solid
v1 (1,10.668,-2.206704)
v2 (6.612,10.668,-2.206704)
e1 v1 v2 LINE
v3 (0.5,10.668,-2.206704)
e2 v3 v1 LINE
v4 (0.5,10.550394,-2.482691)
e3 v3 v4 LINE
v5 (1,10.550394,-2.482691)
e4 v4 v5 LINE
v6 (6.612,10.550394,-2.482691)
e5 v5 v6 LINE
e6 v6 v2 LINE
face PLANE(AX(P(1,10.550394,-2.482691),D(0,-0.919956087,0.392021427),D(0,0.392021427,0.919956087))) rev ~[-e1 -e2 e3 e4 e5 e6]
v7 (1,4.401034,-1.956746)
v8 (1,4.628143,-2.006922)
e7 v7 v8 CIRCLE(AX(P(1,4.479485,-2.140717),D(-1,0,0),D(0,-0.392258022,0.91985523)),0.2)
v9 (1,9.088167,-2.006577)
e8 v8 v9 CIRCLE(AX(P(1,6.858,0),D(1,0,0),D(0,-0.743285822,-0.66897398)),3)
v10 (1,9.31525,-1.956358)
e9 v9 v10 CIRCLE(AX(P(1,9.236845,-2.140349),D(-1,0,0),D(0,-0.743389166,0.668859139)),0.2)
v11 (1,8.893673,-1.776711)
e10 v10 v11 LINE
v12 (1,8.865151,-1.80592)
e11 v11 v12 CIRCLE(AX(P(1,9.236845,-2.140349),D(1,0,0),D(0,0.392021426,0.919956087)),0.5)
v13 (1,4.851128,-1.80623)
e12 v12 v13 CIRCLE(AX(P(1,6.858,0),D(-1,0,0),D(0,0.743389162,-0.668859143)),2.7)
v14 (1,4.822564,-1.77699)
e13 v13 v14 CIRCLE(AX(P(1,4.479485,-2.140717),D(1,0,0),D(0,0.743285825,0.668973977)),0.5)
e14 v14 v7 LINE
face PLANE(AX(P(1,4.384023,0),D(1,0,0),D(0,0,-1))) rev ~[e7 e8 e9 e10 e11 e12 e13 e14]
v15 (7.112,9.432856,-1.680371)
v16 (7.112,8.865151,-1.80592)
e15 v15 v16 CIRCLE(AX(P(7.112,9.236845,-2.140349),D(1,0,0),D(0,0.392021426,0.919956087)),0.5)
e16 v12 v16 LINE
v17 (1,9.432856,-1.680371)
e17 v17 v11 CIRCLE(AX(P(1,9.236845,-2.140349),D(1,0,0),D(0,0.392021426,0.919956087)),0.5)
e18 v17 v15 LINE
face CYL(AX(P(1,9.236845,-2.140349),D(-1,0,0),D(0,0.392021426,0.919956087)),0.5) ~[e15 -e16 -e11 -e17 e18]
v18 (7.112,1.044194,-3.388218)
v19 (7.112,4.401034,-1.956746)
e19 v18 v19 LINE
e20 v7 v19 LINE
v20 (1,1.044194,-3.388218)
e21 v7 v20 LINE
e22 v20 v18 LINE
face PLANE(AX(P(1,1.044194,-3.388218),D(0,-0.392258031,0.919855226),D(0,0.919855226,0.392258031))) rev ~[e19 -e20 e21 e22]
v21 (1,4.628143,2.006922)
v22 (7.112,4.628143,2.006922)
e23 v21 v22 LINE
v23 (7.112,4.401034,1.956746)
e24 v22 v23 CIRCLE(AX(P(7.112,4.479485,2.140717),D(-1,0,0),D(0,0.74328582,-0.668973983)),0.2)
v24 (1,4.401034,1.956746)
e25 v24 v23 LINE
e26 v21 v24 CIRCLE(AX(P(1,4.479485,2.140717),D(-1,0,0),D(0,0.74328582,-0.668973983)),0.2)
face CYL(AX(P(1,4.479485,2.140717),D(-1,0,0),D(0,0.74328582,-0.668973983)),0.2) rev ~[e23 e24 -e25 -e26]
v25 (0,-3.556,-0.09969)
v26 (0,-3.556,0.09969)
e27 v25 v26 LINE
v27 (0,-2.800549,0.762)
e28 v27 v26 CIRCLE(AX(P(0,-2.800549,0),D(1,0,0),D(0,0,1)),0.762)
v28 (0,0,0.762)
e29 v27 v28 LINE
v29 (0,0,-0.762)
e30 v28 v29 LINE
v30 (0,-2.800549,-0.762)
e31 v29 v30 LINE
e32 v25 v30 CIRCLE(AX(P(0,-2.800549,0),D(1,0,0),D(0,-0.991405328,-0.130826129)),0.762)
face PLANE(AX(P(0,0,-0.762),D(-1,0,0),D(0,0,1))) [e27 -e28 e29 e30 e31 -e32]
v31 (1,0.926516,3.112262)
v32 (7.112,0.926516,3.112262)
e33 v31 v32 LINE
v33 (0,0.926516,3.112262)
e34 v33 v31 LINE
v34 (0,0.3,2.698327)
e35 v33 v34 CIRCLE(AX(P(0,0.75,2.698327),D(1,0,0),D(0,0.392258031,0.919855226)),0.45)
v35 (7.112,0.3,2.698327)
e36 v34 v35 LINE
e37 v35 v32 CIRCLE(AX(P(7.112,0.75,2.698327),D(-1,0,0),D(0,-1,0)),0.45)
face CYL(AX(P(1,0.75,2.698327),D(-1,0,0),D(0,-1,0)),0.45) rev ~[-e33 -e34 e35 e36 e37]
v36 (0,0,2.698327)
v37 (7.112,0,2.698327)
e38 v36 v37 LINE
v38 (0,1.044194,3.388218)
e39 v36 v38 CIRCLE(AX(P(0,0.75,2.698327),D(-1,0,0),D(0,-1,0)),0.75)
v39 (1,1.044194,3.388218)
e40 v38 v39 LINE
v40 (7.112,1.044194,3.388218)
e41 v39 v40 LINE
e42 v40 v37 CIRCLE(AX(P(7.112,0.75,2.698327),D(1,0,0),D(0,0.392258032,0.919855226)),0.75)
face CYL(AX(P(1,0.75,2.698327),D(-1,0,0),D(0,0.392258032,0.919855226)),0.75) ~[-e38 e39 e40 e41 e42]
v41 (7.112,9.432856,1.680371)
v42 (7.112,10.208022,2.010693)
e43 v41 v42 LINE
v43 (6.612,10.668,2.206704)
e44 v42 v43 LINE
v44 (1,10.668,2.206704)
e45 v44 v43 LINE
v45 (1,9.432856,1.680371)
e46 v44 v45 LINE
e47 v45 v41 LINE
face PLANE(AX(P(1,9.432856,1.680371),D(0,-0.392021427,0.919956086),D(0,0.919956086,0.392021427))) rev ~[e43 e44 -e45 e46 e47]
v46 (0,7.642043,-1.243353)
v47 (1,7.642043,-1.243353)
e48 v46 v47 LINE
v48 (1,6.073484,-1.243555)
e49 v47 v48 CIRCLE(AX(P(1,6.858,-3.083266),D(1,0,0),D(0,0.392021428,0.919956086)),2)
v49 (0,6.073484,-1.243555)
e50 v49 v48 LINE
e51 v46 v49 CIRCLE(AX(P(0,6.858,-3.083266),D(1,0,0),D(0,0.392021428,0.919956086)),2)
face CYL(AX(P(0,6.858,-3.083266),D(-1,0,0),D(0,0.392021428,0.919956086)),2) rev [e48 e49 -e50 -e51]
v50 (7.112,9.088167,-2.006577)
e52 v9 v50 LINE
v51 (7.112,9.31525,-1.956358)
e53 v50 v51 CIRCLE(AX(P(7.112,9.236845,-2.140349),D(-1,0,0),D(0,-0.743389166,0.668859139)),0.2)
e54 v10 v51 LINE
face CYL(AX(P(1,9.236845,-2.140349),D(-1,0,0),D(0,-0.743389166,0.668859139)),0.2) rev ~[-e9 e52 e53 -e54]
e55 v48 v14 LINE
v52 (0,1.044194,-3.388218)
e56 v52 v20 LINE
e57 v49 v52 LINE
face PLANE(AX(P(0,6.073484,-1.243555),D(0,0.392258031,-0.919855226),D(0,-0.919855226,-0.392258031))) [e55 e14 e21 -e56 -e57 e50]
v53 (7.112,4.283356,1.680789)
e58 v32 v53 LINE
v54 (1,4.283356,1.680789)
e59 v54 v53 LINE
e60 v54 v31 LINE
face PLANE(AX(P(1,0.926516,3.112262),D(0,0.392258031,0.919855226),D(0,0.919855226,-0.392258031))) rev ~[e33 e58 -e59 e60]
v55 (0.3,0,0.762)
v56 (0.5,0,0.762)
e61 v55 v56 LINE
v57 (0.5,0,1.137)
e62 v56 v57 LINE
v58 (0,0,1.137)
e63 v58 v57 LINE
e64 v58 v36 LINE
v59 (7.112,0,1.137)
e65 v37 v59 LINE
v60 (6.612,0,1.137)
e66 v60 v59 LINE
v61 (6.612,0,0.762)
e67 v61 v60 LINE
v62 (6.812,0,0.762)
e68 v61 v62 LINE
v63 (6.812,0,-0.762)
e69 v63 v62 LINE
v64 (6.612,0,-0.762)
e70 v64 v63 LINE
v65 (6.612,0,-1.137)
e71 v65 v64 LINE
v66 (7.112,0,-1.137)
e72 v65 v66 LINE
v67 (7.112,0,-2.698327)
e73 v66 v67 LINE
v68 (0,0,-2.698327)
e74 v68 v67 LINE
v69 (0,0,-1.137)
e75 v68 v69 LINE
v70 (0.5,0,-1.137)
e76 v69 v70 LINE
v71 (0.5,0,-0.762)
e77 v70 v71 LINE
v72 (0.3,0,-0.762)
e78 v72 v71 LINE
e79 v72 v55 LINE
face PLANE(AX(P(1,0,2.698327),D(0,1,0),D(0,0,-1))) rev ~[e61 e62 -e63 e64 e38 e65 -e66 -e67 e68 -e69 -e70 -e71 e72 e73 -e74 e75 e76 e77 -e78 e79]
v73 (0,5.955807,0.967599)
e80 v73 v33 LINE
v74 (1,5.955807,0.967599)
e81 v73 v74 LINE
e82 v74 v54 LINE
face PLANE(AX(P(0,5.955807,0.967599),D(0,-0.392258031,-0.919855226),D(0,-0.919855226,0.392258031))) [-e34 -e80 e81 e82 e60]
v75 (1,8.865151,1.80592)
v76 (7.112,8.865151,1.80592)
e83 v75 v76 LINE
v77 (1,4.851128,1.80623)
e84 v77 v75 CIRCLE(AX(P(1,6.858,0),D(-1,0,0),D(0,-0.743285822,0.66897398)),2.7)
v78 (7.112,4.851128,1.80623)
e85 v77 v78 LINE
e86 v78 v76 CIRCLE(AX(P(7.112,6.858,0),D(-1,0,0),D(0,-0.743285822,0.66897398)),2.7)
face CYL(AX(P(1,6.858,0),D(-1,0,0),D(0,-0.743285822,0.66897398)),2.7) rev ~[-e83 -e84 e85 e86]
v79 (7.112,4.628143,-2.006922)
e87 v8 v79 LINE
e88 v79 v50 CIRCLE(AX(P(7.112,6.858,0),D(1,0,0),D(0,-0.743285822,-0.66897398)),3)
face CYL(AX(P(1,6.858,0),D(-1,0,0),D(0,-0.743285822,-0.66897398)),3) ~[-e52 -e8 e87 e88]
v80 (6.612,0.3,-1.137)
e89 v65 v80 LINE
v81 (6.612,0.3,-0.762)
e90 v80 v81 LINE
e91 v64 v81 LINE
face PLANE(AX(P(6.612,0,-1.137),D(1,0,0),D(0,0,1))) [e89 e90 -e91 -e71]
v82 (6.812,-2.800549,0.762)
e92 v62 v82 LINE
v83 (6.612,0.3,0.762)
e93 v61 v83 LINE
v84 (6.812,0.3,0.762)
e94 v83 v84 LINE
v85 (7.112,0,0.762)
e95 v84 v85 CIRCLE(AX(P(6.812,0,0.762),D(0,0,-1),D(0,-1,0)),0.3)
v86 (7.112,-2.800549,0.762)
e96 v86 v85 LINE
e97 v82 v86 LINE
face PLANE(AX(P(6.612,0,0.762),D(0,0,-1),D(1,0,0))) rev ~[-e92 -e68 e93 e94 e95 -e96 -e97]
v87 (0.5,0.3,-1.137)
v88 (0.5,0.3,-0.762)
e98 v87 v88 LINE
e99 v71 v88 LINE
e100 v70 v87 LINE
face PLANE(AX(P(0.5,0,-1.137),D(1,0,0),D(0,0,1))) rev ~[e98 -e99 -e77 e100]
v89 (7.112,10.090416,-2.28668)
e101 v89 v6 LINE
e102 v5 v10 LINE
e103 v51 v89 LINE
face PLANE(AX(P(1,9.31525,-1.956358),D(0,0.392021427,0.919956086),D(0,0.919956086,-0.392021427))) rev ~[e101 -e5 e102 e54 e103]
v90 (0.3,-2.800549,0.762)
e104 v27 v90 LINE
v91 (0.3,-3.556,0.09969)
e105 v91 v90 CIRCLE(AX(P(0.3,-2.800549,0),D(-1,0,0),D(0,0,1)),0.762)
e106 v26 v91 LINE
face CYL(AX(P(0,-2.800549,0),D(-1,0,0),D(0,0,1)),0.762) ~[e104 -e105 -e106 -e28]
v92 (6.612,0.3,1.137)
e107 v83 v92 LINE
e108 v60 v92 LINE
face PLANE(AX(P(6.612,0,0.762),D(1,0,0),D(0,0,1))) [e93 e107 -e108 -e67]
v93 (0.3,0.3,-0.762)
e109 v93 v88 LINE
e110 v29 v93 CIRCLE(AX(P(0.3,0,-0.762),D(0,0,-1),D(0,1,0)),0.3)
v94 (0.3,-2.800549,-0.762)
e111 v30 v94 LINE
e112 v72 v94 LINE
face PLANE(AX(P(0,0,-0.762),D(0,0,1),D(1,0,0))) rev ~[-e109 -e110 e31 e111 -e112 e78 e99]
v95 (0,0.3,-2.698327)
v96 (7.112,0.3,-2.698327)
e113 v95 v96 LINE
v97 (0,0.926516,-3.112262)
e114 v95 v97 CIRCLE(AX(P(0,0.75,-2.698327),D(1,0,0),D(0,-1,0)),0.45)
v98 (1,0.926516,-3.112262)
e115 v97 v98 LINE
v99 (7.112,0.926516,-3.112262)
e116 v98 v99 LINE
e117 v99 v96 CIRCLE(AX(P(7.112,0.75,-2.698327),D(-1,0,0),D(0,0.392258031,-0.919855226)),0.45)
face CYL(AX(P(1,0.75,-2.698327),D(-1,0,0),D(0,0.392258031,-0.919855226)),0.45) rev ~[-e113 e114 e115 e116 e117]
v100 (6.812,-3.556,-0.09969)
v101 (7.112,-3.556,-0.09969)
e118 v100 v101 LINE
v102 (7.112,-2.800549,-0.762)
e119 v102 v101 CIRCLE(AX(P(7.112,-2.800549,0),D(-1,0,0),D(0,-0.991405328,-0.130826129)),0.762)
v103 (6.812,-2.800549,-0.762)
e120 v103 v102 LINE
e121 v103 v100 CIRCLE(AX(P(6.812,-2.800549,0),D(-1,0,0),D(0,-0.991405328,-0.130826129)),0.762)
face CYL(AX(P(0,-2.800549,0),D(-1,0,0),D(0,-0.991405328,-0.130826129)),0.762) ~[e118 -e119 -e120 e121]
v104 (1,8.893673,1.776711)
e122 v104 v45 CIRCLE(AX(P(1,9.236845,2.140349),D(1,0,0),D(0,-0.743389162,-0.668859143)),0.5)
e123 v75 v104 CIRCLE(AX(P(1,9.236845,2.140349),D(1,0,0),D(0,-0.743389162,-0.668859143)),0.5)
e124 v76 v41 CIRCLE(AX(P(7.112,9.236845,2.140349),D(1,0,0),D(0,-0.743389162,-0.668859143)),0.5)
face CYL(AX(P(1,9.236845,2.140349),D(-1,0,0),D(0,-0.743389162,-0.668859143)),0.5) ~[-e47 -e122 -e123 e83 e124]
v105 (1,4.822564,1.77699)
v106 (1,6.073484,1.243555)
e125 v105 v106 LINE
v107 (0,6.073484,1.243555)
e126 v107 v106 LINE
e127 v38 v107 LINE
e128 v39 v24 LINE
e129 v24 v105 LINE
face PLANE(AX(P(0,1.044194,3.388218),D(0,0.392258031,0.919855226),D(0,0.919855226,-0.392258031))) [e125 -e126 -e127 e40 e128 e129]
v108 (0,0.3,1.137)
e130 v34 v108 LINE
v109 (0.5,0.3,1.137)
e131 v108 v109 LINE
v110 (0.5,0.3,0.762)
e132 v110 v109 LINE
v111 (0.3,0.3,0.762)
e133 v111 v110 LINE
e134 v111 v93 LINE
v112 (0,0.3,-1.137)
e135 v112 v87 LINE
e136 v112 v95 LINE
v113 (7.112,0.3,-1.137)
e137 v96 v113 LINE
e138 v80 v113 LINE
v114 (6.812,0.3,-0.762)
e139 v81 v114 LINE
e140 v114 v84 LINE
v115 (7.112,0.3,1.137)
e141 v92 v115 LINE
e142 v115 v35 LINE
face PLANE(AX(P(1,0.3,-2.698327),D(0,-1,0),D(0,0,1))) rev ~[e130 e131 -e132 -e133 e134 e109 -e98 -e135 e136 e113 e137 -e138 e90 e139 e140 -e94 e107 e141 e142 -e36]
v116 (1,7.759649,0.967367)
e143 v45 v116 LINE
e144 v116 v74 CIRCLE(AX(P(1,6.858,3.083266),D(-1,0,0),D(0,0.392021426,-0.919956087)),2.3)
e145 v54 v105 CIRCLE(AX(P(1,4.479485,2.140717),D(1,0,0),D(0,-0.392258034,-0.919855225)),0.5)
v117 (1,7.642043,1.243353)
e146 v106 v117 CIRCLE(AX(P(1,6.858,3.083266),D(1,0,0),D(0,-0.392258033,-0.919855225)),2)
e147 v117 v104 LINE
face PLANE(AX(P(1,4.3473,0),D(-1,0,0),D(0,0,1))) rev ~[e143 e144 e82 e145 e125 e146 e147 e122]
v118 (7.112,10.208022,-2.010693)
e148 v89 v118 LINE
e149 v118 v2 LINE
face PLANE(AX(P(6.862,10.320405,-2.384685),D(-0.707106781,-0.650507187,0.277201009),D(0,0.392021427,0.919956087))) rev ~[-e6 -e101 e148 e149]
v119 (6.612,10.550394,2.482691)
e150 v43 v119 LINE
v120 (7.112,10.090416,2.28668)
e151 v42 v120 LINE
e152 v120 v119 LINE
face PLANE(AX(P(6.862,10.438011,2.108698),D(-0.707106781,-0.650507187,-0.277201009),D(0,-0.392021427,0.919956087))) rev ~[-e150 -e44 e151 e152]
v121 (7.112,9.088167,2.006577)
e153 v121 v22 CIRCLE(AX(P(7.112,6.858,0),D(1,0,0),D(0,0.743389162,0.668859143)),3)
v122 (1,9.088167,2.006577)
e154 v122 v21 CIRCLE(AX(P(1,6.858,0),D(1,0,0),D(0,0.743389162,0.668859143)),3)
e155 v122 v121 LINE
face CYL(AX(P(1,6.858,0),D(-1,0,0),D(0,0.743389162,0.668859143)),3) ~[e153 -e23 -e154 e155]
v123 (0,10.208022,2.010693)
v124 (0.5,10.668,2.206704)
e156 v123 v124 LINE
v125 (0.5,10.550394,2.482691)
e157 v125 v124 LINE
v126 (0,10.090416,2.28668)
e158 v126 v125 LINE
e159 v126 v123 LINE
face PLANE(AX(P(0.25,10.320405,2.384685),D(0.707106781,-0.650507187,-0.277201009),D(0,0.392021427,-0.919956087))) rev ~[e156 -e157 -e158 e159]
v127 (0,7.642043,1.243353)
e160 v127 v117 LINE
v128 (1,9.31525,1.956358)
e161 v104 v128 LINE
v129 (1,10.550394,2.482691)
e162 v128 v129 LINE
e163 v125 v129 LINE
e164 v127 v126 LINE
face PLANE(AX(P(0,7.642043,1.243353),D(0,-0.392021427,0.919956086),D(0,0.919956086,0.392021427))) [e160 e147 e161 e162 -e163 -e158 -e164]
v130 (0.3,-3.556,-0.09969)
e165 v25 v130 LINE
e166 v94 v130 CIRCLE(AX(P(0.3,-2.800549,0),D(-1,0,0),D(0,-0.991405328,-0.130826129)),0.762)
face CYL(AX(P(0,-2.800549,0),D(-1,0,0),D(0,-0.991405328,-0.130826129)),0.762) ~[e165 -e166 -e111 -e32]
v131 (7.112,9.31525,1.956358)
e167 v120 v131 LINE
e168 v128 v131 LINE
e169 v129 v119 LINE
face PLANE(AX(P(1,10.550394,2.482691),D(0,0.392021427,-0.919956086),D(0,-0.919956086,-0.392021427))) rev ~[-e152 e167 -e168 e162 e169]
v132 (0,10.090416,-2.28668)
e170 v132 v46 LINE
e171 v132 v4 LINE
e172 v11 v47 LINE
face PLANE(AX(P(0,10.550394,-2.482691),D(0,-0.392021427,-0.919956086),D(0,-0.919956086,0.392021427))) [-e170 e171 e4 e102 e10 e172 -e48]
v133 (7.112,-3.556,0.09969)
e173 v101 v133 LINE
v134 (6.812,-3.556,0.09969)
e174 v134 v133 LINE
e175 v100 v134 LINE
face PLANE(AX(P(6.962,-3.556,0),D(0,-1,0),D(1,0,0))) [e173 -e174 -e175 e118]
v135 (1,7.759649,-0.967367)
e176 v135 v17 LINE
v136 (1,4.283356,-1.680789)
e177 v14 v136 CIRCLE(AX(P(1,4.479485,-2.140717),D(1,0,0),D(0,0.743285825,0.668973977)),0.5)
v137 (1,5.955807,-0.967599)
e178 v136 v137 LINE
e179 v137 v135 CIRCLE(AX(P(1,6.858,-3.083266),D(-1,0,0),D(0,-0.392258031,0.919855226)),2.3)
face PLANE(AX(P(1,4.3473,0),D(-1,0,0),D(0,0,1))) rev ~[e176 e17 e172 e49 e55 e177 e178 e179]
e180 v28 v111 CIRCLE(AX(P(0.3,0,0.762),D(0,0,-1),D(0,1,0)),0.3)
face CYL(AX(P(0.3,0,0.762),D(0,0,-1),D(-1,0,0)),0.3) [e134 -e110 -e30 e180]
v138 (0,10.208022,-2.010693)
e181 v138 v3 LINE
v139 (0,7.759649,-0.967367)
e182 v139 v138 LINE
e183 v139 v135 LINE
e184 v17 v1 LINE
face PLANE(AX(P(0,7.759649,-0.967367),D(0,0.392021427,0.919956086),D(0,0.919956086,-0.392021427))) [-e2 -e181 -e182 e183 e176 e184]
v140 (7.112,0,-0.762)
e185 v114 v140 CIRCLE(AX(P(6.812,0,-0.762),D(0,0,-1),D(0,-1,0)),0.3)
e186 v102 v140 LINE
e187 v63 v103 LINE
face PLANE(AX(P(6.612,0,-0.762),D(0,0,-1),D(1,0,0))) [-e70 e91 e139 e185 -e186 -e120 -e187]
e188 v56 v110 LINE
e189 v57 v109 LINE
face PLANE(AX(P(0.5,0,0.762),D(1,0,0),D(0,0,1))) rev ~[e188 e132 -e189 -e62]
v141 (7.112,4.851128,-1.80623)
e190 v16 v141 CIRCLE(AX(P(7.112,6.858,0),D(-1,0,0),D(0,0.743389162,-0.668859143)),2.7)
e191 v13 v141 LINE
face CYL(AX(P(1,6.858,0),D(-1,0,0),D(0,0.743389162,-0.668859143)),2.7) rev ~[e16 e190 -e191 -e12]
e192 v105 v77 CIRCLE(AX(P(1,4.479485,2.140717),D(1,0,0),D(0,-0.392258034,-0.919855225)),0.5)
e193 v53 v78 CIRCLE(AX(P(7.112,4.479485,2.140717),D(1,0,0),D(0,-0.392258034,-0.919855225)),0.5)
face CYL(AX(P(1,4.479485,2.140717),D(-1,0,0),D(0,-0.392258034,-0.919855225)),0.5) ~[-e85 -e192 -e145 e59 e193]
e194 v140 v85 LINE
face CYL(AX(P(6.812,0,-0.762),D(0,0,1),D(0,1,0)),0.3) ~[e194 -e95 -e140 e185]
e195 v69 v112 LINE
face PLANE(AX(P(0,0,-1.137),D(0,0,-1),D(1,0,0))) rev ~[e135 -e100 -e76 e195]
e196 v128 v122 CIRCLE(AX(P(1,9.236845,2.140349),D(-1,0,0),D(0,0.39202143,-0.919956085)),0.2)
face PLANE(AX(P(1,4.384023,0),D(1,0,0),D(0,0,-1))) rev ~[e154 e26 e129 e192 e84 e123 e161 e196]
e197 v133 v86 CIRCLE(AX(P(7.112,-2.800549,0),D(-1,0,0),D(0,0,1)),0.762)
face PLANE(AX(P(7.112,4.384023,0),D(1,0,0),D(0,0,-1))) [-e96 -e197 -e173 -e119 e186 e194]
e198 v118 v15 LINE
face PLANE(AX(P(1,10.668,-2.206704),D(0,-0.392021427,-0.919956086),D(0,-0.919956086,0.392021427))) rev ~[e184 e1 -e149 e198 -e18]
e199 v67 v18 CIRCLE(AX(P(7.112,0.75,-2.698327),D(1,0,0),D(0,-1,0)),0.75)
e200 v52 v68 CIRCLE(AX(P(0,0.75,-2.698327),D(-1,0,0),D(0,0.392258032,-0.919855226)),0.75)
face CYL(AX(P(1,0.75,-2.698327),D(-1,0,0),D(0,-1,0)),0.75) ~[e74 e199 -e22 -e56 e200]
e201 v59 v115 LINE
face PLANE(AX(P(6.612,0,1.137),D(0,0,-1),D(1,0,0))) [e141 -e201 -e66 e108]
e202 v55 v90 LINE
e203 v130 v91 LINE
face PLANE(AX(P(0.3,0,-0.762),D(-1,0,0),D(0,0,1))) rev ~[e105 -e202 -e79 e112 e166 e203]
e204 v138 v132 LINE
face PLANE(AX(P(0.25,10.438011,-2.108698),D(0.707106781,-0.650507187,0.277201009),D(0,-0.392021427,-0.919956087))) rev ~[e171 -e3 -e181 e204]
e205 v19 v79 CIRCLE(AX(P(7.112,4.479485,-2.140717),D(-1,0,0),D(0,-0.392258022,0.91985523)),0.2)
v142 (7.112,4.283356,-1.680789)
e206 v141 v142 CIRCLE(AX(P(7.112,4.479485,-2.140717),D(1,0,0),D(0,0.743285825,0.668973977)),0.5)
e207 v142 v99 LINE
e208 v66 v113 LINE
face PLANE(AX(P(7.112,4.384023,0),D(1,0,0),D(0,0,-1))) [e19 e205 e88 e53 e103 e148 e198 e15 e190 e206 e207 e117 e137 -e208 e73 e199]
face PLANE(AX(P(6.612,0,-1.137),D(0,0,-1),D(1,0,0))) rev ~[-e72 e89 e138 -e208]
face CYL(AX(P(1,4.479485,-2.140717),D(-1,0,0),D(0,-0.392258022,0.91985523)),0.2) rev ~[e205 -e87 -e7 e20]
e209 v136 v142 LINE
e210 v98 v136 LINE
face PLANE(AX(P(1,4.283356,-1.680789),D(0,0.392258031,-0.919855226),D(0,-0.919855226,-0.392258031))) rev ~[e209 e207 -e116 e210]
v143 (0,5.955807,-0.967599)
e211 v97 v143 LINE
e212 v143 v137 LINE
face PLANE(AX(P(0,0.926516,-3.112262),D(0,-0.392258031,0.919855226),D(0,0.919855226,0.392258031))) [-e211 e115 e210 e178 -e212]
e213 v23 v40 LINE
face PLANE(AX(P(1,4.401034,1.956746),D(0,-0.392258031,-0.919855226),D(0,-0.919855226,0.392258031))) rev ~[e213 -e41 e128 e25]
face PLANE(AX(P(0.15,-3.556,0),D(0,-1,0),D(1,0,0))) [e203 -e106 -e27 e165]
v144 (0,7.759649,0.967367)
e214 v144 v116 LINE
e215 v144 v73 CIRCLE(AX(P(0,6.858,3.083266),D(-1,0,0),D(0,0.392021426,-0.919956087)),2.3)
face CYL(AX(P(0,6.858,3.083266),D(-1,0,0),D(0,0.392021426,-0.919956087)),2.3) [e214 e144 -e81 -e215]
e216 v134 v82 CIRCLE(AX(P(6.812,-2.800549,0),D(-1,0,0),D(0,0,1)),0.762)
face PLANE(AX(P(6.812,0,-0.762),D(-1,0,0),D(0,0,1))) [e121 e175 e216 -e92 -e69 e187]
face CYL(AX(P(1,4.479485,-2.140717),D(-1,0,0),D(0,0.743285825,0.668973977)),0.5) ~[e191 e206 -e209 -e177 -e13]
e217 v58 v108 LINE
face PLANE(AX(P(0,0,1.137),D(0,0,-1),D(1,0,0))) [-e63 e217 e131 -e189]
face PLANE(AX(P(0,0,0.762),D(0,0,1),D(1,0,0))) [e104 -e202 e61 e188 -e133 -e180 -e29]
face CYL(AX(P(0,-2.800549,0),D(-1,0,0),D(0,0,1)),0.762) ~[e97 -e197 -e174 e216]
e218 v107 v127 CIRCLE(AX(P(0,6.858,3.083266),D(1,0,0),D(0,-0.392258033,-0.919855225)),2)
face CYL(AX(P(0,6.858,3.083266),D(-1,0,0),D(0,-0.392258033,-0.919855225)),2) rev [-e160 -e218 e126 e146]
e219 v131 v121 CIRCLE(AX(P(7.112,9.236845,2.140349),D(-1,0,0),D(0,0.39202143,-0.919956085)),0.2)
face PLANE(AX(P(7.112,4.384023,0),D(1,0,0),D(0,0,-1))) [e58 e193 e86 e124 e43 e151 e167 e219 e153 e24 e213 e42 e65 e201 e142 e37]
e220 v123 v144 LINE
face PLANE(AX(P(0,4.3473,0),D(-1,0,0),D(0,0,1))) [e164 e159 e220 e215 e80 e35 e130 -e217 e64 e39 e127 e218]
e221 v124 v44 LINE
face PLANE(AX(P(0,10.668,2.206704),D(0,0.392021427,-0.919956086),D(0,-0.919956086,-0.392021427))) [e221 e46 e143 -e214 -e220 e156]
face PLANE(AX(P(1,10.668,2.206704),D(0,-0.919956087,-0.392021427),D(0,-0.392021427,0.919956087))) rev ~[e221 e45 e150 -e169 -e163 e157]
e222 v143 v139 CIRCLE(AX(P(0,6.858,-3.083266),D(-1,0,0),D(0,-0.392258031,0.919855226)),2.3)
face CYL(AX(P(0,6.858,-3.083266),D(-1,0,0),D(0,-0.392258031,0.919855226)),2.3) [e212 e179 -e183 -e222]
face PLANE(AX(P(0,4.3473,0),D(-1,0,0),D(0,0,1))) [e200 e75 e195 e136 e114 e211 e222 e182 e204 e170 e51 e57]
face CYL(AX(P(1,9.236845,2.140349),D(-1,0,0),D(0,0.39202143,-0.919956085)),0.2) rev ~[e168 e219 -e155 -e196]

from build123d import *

# Parameters (mm, degrees)
BOSS_EXTRUDE1_DEPTH = 1
BOSS_EXTRUDE2_DEPTH = 6.112
CHAMFER1_SIZE       = 0.5
SKETCH3_W           = 0.5
SKETCH3_H           = 0.375
CUT_EXTRUDE1_DEPTH  = 0.3
SKETCH4_W           = 0.3
SKETCH4_H           = 1.524
BOSS_EXTRUDE3_DEPTH = 3.556
CUT_EXTRUDE2_DEPTH  = 14.276962233
FILLET1_R           = 0.3


with BuildPart() as part:
    # Sketch1 → Boss-Extrude1 (new body)
    with BuildSketch(Plane(origin=(0, 0, 0), x_dir=(0, 0, -1), z_dir=(1, 0, 0))):
        with BuildLine():
            Line((0, 0), (-2.698326862, 0))
            ThreePointArc((-2.698326862, 0), (-3.32408446, 0.336566295), (-3.388218281, 1.044193523))
            Line((-3.388218281, 1.044193523), (-1.243555187, 6.073483938))
            ThreePointArc((-1.243555187, 6.073483938), (-1.083265655, 6.857742795), (-1.243353466, 7.642042854))
            Line((-1.243353466, 7.642042854), (-2.482690665, 10.550393572))
            Line((-2.482690665, 10.550393572), (-2.206703839, 10.668))
            Line((-2.206703839, 10.668), (-0.96736664, 7.759649282))
            ThreePointArc((-0.96736664, 7.759649282), (-0.783265658, 6.857704215), (-0.967598619, 5.955806528))
            Line((-0.967598619, 5.955806528), (-3.112261714, 0.926516114))
            ThreePointArc((-3.112261714, 0.926516114), (-3.073781421, 0.501939777), (-2.698326862, 0.3))
            Line((-2.698326862, 0.3), (0, 0.3))
            Line((0, 0.3), (2.698326862, 0.3))
            ThreePointArc((2.698326862, 0.3), (3.073781421, 0.501939777), (3.112261714, 0.926516114))
            Line((3.112261714, 0.926516114), (0.967598619, 5.955806528))
            ThreePointArc((0.967598619, 5.955806528), (0.783265658, 6.857704215), (0.96736664, 7.759649282))
            Line((0.96736664, 7.759649282), (2.206703839, 10.668))
            Line((2.206703839, 10.668), (2.482690665, 10.550393572))
            Line((2.482690665, 10.550393572), (1.243353466, 7.642042854))
            ThreePointArc((1.243353466, 7.642042854), (1.083265655, 6.857742795), (1.243555187, 6.073483938))
            Line((1.243555187, 6.073483938), (3.388218281, 1.044193523))
            ThreePointArc((3.388218281, 1.044193523), (3.32408446, 0.336566295), (2.698326862, 0))
            Line((2.698326862, 0), (0, 0))
        make_face()
    extrude(amount=BOSS_EXTRUDE1_DEPTH)

    # Sketch2 → Boss-Extrude2 (add)
    with BuildSketch(Plane(origin=(1, 0, 0), x_dir=(0, 0, -1), z_dir=(1, 0, 0))):
        with BuildLine():
            Line((-1.956745691, 4.401033762), (-3.388218281, 1.044193523))
            ThreePointArc((-3.388218281, 1.044193523), (-3.32408446, 0.336566295), (-2.698326862, 0))
            Line((-2.698326862, 0), (2.698326862, 0))
            ThreePointArc((2.698326862, 0), (3.32408446, 0.336566295), (3.388218281, 1.044193523))
            Line((3.388218281, 1.044193523), (1.956745691, 4.401033762))
            ThreePointArc((1.956745691, 4.401033762), (1.945426233, 4.522631852), (2.006921941, 4.628142533))
            ThreePointArc((2.006921941, 4.628142533), (2.999999991, 6.858231733), (2.00657743, 9.088167487))
            ThreePointArc((2.00657743, 9.088167487), (1.94506764, 9.193658636), (1.956358041, 9.315249605))
            Line((1.956358041, 9.315249605), (2.482690665, 10.550393572))
            Line((2.482690665, 10.550393572), (2.206703839, 10.668))
            Line((2.206703839, 10.668), (1.680371215, 9.432856033))
            ThreePointArc((1.680371215, 9.432856033), (1.652145213, 9.128878611), (1.805919687, 8.865150738))
            ThreePointArc((1.805919687, 8.865150738), (2.699999992, 6.858208559), (1.806229747, 4.851128279))
            ThreePointArc((1.806229747, 4.851128279), (1.652490477, 4.587351579), (1.680789124, 4.283356353))
            Line((1.680789124, 4.283356353), (3.112261714, 0.926516114))
            ThreePointArc((3.112261714, 0.926516114), (3.073781421, 0.501939777), (2.698326862, 0.3))
            Line((2.698326862, 0.3), (-2.698326862, 0.3))
            ThreePointArc((-2.698326862, 0.3), (-3.073781421, 0.501939777), (-3.112261714, 0.926516114))
            Line((-3.112261714, 0.926516114), (-1.680789124, 4.283356353))
            ThreePointArc((-1.680789124, 4.283356353), (-1.652490477, 4.587351579), (-1.806229747, 4.851128279))
            ThreePointArc((-1.806229747, 4.851128279), (-2.699999992, 6.858208559), (-1.805919687, 8.865150738))
            ThreePointArc((-1.805919687, 8.865150738), (-1.652145213, 9.128878611), (-1.680371215, 9.432856033))
            Line((-1.680371215, 9.432856033), (-2.206703839, 10.668))
            Line((-2.206703839, 10.668), (-2.482690665, 10.550393572))
            Line((-2.482690665, 10.550393572), (-1.956358041, 9.315249605))
            ThreePointArc((-1.956358041, 9.315249605), (-1.94506764, 9.193658636), (-2.00657743, 9.088167487))
            ThreePointArc((-2.00657743, 9.088167487), (-2.999999991, 6.858231733), (-2.006921941, 4.628142533))
            ThreePointArc((-2.006921941, 4.628142533), (-1.945426233, 4.522631852), (-1.956745691, 4.401033762))
        make_face()
    extrude(amount=BOSS_EXTRUDE2_DEPTH)

    # Chamfer1
    chamfer1_edges = [part.edges().sort_by_distance(p)[0] for p in [
        (0, 10.609196786, 2.344697252),
        (0, 10.609196786, -2.344697252),
        (7.112, 10.609196786, -2.344697252),
        (7.112, 10.609196786, 2.344697252),
    ]]
    chamfer(chamfer1_edges, length=CHAMFER1_SIZE)

    # Sketch3 → Cut-Extrude1 (cut)
    with BuildSketch(Plane.XZ):
        with Locations((0.25, -0.9495)):
            Rectangle(SKETCH3_W, SKETCH3_H)
        with Locations((0.25, 0.9495)):
            Rectangle(SKETCH3_W, SKETCH3_H)
        with Locations((6.862, -0.9495)):
            Rectangle(SKETCH3_W, SKETCH3_H)
        with Locations((6.862, 0.9495)):
            Rectangle(SKETCH3_W, SKETCH3_H)
    extrude(amount=-CUT_EXTRUDE1_DEPTH, mode=Mode.SUBTRACT)

    # Sketch4 → Boss-Extrude3 (add)
    with BuildSketch(Plane.XZ):
        with Locations((0.15, 0)):
            Rectangle(SKETCH4_W, SKETCH4_H)
        with Locations((6.962, 0)):
            Rectangle(SKETCH4_W, SKETCH4_H)
    extrude(amount=BOSS_EXTRUDE3_DEPTH)

    # Sketch5 → Cut-Extrude2 (cut, through all)
    with BuildSketch(Plane.ZY):
        with BuildLine():
            ThreePointArc((-0.09968951, -3.556), (-0.572977926, -3.302883985), (-0.762, -2.80054914))
            Line((-0.762, -2.80054914), (-0.762, -3.556))
            Line((-0.762, -3.556), (-0.09968951, -3.556))
        make_face()
        with BuildLine():
            ThreePointArc((0.762, -2.80054914), (0.572977926, -3.302883985), (0.09968951, -3.556))
            Line((0.09968951, -3.556), (0.762, -3.556))
            Line((0.762, -3.556), (0.762, -2.80054914))
        make_face()
    extrude(amount=-CUT_EXTRUDE2_DEPTH, mode=Mode.SUBTRACT)

    # Fillet1
    fillet1_edges = [part.edges().sort_by_distance(p)[0] for p in [
        (0, 0.3, 0),
        (7.112, 0.3, 0),
    ]]
    fillet(fillet1_edges, radius=FILLET1_R)


solid = part.part
